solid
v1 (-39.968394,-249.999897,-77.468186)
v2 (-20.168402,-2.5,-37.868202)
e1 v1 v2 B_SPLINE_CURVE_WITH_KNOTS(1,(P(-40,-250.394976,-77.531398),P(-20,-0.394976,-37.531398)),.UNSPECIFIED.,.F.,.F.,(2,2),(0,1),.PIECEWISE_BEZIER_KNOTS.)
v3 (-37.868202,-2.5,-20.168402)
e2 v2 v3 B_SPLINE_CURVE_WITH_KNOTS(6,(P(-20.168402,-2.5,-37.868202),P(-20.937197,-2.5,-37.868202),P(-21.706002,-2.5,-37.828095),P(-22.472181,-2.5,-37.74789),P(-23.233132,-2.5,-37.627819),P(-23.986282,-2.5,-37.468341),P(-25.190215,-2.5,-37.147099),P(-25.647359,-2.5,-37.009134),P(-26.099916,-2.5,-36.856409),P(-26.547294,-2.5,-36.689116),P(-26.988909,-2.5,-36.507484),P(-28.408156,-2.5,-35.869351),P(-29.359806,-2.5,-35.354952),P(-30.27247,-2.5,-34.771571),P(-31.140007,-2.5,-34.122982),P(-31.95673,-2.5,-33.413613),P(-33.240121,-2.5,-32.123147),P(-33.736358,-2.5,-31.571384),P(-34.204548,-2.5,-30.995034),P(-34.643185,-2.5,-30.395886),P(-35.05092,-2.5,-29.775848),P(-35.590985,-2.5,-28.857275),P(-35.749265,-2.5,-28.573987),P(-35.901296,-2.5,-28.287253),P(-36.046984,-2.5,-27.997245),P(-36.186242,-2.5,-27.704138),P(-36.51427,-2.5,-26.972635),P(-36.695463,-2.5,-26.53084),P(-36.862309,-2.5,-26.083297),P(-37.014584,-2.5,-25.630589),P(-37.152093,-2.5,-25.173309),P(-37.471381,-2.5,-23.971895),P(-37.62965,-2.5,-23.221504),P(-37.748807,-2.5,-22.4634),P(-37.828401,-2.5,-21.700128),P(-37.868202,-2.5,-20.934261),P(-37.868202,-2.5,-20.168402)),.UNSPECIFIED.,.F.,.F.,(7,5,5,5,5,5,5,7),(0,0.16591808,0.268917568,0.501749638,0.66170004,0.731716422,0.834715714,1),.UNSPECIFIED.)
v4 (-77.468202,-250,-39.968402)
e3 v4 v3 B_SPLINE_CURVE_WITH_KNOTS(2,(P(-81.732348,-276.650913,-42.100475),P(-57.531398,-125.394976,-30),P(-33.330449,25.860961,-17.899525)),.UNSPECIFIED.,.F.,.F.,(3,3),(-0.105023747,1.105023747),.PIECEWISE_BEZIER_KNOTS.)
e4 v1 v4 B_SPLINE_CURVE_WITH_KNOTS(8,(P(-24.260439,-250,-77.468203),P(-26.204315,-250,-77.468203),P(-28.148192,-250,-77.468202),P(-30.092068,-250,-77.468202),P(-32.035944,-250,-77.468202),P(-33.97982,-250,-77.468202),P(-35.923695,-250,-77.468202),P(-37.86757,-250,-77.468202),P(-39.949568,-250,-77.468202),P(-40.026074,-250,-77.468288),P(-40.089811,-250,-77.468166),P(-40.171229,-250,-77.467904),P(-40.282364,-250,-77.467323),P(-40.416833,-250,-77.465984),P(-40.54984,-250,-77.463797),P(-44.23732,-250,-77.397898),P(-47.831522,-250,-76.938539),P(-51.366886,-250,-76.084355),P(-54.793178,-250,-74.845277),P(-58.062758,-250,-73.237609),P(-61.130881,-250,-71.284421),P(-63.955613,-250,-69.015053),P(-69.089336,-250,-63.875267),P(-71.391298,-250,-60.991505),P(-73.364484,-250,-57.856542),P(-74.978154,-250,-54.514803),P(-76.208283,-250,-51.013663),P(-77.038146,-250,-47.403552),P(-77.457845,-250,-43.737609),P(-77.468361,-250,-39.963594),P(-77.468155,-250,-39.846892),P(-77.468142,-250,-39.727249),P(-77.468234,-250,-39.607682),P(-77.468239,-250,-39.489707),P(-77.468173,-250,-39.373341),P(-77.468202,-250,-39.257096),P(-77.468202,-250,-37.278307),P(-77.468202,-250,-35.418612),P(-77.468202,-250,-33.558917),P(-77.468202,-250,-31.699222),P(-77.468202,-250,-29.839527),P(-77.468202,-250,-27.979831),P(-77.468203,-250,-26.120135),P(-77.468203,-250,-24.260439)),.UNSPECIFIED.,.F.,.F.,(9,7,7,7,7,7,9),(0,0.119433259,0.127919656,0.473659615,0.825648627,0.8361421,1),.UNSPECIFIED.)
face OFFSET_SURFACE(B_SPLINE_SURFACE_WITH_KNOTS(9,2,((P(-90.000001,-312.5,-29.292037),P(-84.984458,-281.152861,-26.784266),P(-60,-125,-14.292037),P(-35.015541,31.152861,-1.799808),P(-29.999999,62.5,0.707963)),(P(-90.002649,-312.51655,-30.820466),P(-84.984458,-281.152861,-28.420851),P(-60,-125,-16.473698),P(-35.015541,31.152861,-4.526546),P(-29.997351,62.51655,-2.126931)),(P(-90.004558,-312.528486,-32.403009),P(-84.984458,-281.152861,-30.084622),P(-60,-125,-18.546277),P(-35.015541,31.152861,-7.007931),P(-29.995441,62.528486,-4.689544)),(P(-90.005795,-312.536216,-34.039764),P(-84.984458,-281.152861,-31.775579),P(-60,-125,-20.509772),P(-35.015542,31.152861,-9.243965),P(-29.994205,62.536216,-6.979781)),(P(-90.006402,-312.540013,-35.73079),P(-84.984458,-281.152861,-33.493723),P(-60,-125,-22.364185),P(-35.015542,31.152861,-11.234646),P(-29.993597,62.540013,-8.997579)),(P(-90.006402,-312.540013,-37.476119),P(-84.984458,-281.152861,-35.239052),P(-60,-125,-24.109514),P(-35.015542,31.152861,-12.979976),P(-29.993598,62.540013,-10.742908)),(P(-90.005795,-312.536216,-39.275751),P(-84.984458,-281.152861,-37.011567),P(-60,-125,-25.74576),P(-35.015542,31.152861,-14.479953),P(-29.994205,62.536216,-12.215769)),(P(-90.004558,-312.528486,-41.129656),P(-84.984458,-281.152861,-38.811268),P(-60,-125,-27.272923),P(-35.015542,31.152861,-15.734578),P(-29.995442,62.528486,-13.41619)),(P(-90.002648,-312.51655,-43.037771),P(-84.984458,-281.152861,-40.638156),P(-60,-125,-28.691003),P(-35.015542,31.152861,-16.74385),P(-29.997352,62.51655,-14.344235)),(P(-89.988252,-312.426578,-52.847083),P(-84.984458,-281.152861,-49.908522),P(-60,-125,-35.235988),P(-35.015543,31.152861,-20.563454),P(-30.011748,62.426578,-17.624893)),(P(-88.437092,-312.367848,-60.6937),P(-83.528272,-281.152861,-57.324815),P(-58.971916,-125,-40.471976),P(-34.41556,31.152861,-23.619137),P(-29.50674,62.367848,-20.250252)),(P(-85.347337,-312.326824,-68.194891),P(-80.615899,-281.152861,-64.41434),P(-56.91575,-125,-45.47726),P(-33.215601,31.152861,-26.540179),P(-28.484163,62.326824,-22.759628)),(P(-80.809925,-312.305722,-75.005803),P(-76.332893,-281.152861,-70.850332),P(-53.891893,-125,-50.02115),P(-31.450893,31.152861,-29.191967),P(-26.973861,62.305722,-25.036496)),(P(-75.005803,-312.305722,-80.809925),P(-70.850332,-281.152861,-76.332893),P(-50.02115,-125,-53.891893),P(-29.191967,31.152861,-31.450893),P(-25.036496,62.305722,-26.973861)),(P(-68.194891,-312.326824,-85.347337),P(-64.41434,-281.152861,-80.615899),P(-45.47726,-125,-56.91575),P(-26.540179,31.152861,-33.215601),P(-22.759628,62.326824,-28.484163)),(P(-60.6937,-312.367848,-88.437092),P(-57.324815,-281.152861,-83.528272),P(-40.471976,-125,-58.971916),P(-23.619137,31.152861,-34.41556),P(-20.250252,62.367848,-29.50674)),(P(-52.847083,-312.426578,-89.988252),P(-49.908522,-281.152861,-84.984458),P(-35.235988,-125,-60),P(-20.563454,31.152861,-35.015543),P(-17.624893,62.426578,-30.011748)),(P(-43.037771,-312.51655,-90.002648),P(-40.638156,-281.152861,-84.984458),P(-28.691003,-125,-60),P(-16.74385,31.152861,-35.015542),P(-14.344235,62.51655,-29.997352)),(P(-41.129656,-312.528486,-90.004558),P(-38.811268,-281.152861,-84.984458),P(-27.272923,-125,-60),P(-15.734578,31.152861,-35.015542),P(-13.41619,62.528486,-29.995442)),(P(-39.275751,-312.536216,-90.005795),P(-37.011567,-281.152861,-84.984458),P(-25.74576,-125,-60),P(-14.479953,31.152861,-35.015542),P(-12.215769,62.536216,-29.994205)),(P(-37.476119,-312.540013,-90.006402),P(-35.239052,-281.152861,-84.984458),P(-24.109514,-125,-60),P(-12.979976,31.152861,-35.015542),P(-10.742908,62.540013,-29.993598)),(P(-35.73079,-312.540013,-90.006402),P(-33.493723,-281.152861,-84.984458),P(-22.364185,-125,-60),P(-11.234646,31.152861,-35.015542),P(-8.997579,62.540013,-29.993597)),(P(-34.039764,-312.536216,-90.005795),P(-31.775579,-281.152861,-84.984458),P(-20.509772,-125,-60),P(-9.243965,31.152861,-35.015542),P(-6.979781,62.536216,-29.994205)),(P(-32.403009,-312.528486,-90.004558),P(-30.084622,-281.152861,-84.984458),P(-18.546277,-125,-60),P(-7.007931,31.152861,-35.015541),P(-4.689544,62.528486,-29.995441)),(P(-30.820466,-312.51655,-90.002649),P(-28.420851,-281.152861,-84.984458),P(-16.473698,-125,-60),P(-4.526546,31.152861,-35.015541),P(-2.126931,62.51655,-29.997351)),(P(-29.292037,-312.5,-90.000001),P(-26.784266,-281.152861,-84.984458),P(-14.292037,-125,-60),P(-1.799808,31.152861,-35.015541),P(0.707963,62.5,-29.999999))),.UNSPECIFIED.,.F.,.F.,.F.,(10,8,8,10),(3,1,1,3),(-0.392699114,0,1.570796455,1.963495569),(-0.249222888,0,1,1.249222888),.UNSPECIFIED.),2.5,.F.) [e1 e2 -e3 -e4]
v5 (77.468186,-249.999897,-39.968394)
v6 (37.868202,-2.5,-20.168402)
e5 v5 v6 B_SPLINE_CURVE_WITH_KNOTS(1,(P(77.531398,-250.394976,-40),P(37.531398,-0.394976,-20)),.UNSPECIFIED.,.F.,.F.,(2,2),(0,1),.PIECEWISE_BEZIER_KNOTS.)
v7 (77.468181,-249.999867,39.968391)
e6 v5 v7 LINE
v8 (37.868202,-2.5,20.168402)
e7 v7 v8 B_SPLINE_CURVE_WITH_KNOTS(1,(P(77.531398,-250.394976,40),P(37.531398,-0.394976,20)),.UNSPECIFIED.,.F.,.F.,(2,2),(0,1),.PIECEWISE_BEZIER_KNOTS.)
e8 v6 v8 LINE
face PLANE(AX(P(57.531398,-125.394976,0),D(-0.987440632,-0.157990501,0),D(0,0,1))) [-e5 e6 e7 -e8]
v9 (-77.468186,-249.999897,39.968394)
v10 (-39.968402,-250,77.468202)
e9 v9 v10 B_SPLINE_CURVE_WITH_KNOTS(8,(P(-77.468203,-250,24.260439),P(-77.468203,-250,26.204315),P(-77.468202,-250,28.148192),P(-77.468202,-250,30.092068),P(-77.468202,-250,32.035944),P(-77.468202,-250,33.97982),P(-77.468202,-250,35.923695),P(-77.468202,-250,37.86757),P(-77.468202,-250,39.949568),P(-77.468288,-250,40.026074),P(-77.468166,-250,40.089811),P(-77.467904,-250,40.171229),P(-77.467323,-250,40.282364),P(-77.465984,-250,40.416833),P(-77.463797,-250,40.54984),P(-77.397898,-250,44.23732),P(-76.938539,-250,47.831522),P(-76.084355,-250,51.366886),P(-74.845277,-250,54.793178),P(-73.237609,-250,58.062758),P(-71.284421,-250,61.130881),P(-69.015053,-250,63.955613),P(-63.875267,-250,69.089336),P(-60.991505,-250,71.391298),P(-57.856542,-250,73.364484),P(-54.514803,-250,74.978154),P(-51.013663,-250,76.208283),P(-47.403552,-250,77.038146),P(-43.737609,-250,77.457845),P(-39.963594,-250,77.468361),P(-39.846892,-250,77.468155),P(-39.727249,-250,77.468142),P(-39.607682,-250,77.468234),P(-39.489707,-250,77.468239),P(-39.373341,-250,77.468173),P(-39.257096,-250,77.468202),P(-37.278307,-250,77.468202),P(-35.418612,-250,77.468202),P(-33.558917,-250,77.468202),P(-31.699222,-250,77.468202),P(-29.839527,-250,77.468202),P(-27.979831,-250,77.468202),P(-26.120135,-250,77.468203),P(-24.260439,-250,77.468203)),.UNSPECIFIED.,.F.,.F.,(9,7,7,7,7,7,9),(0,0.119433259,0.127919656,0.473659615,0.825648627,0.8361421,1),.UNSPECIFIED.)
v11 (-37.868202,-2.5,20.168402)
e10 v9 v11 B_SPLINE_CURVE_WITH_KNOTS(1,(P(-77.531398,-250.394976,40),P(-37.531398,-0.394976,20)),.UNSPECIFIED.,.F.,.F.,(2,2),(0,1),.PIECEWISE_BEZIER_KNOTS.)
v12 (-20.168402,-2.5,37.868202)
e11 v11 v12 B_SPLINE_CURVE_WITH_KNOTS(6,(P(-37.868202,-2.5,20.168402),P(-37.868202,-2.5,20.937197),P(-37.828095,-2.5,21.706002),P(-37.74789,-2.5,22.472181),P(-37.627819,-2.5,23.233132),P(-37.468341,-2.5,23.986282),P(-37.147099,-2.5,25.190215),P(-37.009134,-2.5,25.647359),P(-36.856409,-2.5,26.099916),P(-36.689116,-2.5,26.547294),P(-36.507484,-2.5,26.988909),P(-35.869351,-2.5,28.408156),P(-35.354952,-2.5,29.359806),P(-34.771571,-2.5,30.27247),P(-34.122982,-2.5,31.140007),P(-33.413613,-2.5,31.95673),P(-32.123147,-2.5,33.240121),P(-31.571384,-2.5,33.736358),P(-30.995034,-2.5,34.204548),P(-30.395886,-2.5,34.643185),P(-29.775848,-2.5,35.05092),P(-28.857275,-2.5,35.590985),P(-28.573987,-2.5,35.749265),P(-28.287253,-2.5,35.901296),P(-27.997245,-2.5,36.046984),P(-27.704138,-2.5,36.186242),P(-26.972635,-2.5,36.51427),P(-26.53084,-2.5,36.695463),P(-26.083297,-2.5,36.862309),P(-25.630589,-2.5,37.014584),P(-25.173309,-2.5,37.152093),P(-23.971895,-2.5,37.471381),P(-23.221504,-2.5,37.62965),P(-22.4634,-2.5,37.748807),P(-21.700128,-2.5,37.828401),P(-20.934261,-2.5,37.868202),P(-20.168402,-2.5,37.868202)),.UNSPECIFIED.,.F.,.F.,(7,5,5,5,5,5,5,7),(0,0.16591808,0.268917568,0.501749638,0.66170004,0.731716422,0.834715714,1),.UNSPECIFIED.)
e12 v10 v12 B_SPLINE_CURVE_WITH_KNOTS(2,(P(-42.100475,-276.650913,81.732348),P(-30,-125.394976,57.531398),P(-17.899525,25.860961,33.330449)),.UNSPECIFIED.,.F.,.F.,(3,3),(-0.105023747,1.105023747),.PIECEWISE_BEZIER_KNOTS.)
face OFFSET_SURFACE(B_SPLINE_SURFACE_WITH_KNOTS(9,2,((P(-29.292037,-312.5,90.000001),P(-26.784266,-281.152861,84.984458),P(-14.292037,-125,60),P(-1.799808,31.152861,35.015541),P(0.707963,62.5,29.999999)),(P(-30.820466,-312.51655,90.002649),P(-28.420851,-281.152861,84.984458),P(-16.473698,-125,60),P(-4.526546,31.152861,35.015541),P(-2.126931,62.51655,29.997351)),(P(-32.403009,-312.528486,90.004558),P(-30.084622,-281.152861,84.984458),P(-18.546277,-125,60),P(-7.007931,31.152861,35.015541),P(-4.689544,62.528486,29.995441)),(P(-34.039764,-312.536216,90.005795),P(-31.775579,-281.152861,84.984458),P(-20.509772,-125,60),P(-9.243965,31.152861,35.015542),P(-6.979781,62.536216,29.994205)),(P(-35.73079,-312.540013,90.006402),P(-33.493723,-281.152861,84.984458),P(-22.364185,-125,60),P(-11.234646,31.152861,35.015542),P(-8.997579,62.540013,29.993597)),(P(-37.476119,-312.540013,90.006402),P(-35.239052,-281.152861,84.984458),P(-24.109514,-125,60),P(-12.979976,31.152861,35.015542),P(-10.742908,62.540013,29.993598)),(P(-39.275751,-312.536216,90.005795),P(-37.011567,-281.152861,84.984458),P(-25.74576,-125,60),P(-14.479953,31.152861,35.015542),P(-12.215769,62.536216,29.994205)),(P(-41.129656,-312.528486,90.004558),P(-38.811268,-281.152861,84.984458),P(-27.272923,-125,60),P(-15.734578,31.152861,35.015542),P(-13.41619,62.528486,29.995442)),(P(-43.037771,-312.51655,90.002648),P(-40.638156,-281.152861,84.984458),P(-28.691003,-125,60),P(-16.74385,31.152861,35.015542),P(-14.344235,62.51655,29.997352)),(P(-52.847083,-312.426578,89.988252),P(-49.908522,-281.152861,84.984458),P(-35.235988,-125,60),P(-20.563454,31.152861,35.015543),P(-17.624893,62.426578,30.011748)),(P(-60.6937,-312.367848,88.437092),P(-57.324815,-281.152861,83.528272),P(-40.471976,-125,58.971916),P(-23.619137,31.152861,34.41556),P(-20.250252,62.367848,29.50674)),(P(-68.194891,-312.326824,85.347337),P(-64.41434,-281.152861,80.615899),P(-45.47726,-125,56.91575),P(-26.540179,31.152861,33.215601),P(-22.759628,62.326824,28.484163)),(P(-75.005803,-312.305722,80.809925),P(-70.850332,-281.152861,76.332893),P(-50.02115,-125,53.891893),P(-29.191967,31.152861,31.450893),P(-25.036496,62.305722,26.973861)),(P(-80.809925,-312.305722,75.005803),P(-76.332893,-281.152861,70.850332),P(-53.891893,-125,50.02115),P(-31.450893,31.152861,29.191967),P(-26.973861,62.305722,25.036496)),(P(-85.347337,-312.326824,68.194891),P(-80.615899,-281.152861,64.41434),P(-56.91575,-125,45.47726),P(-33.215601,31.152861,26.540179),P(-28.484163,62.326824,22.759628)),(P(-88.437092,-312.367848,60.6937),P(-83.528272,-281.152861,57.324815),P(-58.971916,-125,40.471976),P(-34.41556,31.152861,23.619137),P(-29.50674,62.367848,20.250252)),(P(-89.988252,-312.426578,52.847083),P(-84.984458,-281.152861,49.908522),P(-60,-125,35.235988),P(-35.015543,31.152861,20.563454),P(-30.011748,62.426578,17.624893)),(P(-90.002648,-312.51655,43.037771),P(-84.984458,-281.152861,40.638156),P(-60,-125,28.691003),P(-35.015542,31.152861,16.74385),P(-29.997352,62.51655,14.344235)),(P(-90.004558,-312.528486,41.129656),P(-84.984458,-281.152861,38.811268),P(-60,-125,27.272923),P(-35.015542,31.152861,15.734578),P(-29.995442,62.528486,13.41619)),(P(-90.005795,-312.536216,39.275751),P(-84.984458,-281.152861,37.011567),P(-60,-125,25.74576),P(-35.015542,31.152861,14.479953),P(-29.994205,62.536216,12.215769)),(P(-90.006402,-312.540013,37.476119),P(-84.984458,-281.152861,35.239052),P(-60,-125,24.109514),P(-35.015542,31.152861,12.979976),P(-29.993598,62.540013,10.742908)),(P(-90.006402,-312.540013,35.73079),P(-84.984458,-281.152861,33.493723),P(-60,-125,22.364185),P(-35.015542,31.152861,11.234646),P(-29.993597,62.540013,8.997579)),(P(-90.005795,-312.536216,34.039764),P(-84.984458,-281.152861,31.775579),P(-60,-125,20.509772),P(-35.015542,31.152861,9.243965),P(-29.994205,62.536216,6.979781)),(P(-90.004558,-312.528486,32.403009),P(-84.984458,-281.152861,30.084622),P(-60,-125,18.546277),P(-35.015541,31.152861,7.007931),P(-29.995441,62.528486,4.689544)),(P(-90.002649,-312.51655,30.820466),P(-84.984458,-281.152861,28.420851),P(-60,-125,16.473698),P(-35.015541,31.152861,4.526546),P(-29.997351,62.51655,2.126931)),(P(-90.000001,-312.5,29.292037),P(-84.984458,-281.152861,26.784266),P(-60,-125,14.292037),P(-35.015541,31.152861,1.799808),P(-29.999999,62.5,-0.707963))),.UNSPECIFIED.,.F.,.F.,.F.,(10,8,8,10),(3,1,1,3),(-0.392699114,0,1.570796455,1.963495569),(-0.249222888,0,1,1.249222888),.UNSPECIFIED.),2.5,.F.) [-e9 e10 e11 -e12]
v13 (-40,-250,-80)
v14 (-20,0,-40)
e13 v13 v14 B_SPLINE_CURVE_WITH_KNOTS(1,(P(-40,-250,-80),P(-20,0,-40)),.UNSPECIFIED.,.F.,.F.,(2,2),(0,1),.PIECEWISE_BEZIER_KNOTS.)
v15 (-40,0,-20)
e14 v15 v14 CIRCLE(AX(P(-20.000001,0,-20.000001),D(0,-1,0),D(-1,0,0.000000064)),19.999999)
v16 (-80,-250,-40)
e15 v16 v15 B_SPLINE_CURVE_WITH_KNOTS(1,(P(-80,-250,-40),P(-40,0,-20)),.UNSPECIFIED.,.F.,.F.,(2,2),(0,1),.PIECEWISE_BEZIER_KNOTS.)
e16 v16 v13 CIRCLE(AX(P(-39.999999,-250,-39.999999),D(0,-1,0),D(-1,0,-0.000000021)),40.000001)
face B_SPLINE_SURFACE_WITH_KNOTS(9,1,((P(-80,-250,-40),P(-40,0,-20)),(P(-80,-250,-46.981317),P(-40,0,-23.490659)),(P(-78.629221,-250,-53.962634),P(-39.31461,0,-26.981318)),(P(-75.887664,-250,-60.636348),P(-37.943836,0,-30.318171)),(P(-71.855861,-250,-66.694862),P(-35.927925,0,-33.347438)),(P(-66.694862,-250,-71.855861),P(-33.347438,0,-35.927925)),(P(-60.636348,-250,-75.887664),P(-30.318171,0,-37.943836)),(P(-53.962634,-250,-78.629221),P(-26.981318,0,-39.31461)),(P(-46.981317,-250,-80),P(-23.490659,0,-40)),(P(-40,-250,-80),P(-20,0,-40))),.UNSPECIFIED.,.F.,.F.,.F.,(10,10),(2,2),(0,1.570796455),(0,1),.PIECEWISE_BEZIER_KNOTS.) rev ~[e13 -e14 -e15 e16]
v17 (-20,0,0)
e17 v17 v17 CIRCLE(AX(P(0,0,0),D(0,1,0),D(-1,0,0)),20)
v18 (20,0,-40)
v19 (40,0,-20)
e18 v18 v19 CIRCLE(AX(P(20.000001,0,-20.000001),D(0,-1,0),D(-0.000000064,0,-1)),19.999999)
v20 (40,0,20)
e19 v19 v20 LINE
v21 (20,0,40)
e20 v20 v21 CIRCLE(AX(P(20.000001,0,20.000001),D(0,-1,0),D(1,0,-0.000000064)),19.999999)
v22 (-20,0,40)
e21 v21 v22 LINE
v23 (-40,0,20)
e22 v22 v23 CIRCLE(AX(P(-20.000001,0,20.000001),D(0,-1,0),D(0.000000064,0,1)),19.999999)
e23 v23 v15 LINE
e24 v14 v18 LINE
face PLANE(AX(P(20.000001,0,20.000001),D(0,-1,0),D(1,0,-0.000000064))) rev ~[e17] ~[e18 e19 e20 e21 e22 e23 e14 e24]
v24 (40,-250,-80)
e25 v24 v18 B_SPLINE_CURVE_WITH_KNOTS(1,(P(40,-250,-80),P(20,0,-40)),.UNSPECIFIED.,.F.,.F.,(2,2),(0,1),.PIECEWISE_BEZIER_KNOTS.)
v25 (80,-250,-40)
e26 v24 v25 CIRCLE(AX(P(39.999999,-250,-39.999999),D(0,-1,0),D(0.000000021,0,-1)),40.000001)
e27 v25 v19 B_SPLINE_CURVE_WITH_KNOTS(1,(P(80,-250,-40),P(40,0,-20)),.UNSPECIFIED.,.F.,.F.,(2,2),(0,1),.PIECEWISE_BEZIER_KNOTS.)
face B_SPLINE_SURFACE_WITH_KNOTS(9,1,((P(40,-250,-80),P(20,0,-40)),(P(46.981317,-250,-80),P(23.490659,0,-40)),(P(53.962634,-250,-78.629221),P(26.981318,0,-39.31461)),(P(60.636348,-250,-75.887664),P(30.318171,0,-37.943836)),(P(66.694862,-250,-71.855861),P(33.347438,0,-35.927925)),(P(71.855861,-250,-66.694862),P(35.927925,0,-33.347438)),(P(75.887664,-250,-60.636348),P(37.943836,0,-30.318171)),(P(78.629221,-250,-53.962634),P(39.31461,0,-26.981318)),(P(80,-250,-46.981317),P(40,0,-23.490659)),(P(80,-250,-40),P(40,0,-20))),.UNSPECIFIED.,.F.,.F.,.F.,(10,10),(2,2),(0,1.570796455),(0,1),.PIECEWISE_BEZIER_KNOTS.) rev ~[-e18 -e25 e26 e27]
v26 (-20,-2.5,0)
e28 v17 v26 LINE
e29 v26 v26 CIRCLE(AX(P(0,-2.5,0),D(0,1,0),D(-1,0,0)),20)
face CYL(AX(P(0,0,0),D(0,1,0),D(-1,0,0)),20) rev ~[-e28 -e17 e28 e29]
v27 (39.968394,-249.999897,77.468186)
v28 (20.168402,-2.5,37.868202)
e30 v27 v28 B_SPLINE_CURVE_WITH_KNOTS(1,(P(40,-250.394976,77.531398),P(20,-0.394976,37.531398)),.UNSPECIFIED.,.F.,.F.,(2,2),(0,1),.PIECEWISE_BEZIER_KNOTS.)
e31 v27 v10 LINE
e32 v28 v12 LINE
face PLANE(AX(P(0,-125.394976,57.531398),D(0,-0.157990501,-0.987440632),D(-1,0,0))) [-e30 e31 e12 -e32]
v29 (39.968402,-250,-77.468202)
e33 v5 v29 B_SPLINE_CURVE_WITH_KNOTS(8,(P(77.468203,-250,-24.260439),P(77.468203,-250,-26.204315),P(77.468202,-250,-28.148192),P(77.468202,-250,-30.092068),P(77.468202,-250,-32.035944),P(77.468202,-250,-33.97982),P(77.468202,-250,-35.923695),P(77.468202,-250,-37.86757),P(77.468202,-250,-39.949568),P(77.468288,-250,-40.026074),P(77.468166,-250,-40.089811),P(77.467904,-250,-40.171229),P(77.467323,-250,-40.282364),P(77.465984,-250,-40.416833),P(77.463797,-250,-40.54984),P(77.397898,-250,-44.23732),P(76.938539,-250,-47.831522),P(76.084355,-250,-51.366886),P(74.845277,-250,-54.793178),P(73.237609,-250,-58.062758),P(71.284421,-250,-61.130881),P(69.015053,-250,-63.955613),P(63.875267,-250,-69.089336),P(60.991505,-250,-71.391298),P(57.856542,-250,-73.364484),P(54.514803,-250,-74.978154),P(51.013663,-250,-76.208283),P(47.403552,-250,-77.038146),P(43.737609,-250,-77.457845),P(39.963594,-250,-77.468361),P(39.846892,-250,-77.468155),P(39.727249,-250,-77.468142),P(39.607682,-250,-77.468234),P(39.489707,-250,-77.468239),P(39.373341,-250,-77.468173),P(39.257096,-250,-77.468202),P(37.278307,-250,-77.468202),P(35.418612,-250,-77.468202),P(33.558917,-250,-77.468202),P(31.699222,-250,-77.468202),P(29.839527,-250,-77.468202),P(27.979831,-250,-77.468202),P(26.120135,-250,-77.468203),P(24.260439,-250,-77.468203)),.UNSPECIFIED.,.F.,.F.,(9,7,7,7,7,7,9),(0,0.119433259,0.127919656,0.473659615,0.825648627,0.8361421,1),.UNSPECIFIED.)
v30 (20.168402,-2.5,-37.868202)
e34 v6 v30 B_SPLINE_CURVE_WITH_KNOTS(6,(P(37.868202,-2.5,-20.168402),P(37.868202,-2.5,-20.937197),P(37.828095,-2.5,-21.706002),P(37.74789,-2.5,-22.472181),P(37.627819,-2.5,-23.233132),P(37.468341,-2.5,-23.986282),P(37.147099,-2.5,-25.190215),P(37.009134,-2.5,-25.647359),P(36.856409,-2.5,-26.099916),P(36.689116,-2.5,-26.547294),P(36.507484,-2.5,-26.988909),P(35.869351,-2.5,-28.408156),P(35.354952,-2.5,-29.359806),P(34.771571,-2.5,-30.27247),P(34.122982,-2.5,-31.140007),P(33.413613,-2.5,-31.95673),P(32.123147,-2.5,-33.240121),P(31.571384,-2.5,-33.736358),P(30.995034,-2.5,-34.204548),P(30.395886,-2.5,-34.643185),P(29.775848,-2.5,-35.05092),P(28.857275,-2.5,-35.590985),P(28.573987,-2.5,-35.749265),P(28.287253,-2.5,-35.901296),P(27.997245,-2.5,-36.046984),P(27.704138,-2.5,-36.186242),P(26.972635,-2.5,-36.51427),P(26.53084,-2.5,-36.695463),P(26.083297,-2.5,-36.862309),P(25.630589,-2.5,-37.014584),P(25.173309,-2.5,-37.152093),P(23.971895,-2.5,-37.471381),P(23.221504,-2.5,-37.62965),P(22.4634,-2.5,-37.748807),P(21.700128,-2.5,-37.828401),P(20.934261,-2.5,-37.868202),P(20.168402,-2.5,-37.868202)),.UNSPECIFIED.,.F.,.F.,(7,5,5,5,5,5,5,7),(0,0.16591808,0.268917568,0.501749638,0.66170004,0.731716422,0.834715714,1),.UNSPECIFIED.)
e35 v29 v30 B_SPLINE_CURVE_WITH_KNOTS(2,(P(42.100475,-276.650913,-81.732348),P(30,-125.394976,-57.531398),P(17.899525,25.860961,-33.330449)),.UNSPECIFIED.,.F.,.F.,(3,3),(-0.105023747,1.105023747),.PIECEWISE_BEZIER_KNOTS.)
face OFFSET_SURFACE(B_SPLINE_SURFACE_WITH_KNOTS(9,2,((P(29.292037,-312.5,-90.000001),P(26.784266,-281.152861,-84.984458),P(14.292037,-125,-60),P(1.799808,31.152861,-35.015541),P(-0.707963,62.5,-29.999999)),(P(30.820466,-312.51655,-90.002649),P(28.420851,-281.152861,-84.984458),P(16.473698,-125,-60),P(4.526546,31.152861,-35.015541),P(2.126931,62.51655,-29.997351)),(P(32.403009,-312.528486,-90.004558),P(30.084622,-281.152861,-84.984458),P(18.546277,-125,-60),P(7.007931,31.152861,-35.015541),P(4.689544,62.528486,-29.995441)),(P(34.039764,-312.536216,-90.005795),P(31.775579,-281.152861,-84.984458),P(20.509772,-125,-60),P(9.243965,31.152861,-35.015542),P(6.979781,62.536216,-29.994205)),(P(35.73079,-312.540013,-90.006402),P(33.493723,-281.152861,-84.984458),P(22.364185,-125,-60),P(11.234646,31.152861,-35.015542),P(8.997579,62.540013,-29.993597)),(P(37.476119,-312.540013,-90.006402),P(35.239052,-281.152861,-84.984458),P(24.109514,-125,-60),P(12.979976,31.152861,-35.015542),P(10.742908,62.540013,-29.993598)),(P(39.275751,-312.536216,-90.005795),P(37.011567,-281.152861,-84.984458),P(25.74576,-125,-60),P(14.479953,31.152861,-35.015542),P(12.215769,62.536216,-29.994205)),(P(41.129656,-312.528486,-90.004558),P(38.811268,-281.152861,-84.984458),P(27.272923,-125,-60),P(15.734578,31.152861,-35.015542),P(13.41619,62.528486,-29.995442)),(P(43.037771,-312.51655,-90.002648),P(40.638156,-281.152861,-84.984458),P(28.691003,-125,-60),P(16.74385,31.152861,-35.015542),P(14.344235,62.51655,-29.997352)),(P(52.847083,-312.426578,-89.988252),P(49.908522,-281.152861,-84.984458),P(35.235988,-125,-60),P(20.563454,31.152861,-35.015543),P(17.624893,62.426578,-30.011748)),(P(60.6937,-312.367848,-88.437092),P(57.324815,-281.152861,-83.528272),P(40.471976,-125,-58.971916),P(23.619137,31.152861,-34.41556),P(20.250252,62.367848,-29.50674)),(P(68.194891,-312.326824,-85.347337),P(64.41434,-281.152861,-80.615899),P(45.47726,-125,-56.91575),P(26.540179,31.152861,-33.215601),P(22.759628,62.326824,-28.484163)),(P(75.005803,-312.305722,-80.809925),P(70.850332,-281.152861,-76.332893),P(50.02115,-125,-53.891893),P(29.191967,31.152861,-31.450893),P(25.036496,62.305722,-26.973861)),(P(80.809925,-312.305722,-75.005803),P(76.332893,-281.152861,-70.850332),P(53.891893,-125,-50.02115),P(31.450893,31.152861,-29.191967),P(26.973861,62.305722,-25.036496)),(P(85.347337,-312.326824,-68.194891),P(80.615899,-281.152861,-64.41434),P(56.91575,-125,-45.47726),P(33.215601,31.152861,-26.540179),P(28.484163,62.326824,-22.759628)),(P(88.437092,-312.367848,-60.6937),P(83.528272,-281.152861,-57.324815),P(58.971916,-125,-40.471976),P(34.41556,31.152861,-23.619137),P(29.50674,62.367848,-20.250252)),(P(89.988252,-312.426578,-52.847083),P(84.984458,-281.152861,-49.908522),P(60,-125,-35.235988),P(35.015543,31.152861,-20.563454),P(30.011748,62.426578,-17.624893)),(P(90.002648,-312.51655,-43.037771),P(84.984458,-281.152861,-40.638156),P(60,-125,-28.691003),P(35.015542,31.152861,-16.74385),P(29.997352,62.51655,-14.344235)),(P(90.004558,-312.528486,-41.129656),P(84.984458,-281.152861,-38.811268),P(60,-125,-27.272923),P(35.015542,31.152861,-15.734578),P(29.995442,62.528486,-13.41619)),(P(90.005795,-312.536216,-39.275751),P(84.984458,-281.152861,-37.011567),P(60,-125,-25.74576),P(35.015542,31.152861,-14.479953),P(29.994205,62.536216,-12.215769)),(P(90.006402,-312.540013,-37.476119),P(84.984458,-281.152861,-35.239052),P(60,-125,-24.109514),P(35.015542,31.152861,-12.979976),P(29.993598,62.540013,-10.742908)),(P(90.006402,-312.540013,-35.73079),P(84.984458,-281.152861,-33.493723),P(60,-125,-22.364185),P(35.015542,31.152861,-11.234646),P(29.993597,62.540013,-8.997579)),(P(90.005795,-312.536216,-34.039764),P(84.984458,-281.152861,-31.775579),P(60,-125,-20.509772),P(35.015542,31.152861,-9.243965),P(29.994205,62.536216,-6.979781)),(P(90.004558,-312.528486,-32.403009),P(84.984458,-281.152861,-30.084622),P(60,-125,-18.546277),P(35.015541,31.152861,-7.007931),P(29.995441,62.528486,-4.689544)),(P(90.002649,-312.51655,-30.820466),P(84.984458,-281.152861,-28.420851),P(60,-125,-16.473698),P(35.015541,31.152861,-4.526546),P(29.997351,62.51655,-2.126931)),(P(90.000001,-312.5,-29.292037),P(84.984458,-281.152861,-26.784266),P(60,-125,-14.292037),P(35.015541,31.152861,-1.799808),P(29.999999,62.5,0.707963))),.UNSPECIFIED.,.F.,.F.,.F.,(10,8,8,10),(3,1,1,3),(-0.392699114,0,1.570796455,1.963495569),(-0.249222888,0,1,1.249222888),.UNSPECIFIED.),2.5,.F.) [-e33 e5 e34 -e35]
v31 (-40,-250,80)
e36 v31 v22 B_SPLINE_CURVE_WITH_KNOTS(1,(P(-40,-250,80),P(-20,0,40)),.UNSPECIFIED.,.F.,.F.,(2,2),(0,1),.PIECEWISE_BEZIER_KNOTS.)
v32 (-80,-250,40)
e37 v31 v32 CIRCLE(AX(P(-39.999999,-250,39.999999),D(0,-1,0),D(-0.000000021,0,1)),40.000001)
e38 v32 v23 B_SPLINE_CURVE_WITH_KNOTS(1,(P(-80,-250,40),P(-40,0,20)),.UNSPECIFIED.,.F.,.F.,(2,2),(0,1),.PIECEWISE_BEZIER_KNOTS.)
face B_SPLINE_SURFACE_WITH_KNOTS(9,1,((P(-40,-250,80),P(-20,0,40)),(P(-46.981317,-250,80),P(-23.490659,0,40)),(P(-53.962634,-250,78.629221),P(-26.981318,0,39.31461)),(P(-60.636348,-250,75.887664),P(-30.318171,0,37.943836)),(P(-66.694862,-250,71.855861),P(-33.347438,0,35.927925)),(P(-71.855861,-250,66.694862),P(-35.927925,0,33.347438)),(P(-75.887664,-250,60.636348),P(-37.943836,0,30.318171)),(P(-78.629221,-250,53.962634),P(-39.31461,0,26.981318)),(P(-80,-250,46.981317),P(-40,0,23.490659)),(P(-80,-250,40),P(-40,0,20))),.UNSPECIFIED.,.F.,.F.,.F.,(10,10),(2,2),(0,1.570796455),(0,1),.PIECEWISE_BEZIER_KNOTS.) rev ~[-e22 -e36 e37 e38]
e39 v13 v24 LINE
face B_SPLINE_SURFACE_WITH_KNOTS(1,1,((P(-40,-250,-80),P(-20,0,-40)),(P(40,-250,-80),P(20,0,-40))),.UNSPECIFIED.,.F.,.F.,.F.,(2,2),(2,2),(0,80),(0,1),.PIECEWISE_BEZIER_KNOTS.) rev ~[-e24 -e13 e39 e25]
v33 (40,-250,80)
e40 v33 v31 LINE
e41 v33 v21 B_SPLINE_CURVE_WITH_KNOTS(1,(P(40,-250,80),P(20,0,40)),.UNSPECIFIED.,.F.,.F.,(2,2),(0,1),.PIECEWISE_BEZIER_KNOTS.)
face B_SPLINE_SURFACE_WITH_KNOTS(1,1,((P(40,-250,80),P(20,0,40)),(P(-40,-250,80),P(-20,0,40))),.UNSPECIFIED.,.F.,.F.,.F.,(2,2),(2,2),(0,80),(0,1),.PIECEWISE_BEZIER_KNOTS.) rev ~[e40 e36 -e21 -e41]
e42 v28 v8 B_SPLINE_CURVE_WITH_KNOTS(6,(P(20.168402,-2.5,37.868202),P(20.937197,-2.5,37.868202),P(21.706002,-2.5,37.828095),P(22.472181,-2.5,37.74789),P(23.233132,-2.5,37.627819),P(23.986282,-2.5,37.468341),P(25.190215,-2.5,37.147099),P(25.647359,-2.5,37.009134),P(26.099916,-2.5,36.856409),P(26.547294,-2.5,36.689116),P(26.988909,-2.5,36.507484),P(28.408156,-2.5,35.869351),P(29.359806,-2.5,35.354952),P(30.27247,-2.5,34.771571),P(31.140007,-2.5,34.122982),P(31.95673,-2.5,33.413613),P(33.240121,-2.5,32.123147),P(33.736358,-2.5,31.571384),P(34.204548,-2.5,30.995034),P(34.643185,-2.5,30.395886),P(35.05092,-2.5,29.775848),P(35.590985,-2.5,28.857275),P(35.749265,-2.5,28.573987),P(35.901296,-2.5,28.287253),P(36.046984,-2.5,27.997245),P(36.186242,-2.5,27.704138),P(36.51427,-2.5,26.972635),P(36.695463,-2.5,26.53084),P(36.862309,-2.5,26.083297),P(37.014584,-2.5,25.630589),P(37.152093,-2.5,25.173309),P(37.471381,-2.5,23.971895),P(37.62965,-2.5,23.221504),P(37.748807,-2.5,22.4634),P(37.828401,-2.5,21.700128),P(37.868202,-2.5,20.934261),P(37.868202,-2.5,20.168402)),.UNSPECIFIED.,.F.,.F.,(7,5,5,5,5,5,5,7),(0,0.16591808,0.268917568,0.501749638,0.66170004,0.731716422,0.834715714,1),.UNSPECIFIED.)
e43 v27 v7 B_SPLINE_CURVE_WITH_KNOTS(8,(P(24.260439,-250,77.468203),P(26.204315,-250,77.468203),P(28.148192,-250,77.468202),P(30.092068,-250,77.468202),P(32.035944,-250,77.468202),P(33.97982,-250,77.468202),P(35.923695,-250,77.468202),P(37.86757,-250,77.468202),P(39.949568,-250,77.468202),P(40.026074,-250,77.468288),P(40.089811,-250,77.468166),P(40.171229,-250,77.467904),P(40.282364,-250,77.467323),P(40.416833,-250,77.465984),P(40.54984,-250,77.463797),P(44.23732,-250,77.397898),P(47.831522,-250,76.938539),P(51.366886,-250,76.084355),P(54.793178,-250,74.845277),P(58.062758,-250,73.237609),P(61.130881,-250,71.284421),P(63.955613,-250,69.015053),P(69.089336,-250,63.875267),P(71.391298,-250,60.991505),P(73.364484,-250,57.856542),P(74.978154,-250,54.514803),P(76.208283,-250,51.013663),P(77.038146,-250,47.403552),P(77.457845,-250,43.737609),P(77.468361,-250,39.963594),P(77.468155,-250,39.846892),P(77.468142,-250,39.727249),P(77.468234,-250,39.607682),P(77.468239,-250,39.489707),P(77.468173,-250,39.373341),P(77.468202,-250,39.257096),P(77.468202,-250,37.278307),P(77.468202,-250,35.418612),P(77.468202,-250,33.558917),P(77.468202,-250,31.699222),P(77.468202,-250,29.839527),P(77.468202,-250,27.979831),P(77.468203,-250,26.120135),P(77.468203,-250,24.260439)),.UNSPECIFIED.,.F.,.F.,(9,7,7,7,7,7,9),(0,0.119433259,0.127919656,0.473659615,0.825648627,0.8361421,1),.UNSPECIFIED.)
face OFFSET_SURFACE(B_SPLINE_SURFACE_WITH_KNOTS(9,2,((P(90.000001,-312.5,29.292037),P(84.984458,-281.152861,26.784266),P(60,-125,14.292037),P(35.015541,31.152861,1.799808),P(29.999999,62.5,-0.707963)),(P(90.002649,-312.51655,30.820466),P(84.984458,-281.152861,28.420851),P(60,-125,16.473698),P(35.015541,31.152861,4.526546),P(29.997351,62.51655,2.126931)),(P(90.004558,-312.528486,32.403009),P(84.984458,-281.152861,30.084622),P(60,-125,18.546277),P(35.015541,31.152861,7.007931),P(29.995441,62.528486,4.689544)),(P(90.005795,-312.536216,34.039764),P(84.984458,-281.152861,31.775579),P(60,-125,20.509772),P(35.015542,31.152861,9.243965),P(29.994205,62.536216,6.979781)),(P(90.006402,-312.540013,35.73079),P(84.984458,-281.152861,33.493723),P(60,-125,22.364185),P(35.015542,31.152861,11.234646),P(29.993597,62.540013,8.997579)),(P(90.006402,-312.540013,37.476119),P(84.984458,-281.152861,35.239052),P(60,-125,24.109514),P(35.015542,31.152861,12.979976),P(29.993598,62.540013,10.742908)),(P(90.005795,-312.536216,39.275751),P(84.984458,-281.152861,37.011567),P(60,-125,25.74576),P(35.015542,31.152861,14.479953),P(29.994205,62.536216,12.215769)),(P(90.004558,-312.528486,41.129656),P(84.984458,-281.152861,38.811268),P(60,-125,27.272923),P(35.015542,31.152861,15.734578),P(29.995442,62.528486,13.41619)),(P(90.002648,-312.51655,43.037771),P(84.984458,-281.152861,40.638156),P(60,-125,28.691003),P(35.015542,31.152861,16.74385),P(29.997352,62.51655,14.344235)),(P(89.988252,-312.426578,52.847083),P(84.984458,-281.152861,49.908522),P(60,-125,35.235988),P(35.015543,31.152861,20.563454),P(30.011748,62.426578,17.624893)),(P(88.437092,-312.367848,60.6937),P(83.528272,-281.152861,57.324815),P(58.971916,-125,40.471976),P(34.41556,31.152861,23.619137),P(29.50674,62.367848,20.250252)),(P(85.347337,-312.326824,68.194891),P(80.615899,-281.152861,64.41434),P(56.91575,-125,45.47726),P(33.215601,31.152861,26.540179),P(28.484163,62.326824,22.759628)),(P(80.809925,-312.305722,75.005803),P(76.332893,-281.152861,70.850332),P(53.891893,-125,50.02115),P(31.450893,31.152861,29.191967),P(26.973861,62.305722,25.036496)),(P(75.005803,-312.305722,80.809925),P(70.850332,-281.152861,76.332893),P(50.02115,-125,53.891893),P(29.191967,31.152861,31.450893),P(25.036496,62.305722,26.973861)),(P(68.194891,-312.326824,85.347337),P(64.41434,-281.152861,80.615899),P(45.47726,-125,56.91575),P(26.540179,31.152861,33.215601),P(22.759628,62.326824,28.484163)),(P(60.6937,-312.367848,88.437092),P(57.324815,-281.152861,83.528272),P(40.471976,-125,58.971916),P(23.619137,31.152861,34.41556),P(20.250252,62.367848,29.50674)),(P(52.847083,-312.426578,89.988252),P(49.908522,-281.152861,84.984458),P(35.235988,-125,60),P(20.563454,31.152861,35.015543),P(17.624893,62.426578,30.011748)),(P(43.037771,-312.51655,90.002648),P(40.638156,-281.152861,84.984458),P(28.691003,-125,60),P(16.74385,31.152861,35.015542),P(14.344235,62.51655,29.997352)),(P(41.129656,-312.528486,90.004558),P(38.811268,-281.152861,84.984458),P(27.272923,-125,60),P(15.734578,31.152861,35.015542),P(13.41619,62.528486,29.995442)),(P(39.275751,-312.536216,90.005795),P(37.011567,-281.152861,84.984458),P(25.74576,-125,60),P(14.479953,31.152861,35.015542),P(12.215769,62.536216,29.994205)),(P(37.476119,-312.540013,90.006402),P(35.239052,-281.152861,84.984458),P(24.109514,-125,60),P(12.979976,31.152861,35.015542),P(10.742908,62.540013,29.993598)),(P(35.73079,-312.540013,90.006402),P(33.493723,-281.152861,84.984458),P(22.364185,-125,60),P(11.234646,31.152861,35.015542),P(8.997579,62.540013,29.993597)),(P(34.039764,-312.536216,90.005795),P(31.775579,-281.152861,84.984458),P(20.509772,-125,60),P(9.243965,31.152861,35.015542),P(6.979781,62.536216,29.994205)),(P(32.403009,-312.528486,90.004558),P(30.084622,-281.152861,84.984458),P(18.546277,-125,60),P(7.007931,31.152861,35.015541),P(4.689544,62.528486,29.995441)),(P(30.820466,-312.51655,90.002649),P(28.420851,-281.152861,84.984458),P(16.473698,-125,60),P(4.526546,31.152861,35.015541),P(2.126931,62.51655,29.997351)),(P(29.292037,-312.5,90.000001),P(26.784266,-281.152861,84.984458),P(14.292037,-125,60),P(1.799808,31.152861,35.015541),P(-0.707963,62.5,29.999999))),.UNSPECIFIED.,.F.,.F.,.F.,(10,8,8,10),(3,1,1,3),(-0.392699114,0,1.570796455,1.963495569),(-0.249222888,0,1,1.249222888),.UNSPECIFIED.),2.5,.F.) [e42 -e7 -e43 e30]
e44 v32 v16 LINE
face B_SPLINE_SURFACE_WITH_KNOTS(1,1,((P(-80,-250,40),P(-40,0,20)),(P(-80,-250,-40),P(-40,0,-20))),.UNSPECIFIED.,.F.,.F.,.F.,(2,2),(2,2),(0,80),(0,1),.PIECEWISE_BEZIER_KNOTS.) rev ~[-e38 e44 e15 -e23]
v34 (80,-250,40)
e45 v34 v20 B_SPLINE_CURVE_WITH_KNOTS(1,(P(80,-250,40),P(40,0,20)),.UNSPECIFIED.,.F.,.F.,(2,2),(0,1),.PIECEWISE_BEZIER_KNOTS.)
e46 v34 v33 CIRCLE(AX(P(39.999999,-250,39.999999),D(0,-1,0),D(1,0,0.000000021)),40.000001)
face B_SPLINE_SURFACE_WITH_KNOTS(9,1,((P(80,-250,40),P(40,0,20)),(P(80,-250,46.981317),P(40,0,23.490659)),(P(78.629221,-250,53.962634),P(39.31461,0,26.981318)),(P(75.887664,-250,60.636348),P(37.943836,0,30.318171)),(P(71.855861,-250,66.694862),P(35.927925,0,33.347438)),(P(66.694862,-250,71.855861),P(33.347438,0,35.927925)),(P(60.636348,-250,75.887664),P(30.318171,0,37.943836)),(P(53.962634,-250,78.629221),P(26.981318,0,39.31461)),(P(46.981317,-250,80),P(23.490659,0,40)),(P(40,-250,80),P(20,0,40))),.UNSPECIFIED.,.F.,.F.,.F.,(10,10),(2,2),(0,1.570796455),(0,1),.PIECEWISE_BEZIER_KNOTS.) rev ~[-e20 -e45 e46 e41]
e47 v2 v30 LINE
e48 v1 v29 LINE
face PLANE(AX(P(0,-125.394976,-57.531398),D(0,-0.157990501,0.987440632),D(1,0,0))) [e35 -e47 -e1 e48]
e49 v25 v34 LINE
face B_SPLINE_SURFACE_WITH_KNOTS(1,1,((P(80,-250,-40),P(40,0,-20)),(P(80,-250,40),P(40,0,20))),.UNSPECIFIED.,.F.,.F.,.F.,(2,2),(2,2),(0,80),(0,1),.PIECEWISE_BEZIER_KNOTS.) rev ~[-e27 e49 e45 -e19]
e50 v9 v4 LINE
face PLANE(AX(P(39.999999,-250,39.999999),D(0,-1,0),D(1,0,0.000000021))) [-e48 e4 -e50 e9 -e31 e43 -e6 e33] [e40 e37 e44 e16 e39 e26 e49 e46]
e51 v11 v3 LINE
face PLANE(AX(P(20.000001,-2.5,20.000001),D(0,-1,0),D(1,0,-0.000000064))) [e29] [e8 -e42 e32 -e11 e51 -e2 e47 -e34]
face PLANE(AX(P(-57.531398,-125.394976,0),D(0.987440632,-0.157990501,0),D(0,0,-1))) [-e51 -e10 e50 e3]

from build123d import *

# Parameters (mm, degrees)
F4_T     = -2.5
F5_R     = 20
F6_DEPTH = 2.5


with BuildPart() as f3:
    # F2 (on offset) → F3 section 0
    with BuildSketch(Plane.XZ.offset(250)):
        with BuildLine():
            ThreePointArc((80, 40), (68.284271, 68.284271), (40, 80))
            Line((40, 80), (-40, 80))
            ThreePointArc((-40, 80), (-68.284271, 68.284271), (-80, 40))
            Line((-80, 40), (-80, -40))
            ThreePointArc((-80, -40), (-68.284271, -68.284271), (-40, -80))
            Line((-40, -80), (40, -80))
            ThreePointArc((40, -80), (68.284271, -68.284271), (80, -40))
            Line((80, -40), (80, 40))
        make_face()
    # F0 (on Front) → F3 section 1
    with BuildSketch(Plane.XZ):
        with BuildLine():
            ThreePointArc((40, 20), (34.142136, 34.142136), (20, 40))
            Line((20, 40), (-20, 40))
            ThreePointArc((-20, 40), (-34.142136, 34.142136), (-40, 20))
            Line((-40, 20), (-40, -20))
            ThreePointArc((-40, -20), (-34.142136, -34.142136), (-20, -40))
            Line((-20, -40), (20, -40))
            ThreePointArc((20, -40), (34.142136, -34.142136), (40, -20))
            Line((40, -20), (40, 20))
        make_face()
    loft()

    # F4
    f4_openings = [f3.faces().sort_by_distance(p)[0] for p in [
        (0, -250, 0),
    ]]
    offset(amount=F4_T, openings=f4_openings)

    # F5 (on face) → F6 (cut, through all)
    with BuildSketch(Plane(origin=(0, 0, 0), x_dir=(-1, 0, 0), z_dir=(0, 1, 0))):
        Circle(F5_R)
    extrude(amount=-F6_DEPTH, mode=Mode.SUBTRACT)


solid = f3.part
